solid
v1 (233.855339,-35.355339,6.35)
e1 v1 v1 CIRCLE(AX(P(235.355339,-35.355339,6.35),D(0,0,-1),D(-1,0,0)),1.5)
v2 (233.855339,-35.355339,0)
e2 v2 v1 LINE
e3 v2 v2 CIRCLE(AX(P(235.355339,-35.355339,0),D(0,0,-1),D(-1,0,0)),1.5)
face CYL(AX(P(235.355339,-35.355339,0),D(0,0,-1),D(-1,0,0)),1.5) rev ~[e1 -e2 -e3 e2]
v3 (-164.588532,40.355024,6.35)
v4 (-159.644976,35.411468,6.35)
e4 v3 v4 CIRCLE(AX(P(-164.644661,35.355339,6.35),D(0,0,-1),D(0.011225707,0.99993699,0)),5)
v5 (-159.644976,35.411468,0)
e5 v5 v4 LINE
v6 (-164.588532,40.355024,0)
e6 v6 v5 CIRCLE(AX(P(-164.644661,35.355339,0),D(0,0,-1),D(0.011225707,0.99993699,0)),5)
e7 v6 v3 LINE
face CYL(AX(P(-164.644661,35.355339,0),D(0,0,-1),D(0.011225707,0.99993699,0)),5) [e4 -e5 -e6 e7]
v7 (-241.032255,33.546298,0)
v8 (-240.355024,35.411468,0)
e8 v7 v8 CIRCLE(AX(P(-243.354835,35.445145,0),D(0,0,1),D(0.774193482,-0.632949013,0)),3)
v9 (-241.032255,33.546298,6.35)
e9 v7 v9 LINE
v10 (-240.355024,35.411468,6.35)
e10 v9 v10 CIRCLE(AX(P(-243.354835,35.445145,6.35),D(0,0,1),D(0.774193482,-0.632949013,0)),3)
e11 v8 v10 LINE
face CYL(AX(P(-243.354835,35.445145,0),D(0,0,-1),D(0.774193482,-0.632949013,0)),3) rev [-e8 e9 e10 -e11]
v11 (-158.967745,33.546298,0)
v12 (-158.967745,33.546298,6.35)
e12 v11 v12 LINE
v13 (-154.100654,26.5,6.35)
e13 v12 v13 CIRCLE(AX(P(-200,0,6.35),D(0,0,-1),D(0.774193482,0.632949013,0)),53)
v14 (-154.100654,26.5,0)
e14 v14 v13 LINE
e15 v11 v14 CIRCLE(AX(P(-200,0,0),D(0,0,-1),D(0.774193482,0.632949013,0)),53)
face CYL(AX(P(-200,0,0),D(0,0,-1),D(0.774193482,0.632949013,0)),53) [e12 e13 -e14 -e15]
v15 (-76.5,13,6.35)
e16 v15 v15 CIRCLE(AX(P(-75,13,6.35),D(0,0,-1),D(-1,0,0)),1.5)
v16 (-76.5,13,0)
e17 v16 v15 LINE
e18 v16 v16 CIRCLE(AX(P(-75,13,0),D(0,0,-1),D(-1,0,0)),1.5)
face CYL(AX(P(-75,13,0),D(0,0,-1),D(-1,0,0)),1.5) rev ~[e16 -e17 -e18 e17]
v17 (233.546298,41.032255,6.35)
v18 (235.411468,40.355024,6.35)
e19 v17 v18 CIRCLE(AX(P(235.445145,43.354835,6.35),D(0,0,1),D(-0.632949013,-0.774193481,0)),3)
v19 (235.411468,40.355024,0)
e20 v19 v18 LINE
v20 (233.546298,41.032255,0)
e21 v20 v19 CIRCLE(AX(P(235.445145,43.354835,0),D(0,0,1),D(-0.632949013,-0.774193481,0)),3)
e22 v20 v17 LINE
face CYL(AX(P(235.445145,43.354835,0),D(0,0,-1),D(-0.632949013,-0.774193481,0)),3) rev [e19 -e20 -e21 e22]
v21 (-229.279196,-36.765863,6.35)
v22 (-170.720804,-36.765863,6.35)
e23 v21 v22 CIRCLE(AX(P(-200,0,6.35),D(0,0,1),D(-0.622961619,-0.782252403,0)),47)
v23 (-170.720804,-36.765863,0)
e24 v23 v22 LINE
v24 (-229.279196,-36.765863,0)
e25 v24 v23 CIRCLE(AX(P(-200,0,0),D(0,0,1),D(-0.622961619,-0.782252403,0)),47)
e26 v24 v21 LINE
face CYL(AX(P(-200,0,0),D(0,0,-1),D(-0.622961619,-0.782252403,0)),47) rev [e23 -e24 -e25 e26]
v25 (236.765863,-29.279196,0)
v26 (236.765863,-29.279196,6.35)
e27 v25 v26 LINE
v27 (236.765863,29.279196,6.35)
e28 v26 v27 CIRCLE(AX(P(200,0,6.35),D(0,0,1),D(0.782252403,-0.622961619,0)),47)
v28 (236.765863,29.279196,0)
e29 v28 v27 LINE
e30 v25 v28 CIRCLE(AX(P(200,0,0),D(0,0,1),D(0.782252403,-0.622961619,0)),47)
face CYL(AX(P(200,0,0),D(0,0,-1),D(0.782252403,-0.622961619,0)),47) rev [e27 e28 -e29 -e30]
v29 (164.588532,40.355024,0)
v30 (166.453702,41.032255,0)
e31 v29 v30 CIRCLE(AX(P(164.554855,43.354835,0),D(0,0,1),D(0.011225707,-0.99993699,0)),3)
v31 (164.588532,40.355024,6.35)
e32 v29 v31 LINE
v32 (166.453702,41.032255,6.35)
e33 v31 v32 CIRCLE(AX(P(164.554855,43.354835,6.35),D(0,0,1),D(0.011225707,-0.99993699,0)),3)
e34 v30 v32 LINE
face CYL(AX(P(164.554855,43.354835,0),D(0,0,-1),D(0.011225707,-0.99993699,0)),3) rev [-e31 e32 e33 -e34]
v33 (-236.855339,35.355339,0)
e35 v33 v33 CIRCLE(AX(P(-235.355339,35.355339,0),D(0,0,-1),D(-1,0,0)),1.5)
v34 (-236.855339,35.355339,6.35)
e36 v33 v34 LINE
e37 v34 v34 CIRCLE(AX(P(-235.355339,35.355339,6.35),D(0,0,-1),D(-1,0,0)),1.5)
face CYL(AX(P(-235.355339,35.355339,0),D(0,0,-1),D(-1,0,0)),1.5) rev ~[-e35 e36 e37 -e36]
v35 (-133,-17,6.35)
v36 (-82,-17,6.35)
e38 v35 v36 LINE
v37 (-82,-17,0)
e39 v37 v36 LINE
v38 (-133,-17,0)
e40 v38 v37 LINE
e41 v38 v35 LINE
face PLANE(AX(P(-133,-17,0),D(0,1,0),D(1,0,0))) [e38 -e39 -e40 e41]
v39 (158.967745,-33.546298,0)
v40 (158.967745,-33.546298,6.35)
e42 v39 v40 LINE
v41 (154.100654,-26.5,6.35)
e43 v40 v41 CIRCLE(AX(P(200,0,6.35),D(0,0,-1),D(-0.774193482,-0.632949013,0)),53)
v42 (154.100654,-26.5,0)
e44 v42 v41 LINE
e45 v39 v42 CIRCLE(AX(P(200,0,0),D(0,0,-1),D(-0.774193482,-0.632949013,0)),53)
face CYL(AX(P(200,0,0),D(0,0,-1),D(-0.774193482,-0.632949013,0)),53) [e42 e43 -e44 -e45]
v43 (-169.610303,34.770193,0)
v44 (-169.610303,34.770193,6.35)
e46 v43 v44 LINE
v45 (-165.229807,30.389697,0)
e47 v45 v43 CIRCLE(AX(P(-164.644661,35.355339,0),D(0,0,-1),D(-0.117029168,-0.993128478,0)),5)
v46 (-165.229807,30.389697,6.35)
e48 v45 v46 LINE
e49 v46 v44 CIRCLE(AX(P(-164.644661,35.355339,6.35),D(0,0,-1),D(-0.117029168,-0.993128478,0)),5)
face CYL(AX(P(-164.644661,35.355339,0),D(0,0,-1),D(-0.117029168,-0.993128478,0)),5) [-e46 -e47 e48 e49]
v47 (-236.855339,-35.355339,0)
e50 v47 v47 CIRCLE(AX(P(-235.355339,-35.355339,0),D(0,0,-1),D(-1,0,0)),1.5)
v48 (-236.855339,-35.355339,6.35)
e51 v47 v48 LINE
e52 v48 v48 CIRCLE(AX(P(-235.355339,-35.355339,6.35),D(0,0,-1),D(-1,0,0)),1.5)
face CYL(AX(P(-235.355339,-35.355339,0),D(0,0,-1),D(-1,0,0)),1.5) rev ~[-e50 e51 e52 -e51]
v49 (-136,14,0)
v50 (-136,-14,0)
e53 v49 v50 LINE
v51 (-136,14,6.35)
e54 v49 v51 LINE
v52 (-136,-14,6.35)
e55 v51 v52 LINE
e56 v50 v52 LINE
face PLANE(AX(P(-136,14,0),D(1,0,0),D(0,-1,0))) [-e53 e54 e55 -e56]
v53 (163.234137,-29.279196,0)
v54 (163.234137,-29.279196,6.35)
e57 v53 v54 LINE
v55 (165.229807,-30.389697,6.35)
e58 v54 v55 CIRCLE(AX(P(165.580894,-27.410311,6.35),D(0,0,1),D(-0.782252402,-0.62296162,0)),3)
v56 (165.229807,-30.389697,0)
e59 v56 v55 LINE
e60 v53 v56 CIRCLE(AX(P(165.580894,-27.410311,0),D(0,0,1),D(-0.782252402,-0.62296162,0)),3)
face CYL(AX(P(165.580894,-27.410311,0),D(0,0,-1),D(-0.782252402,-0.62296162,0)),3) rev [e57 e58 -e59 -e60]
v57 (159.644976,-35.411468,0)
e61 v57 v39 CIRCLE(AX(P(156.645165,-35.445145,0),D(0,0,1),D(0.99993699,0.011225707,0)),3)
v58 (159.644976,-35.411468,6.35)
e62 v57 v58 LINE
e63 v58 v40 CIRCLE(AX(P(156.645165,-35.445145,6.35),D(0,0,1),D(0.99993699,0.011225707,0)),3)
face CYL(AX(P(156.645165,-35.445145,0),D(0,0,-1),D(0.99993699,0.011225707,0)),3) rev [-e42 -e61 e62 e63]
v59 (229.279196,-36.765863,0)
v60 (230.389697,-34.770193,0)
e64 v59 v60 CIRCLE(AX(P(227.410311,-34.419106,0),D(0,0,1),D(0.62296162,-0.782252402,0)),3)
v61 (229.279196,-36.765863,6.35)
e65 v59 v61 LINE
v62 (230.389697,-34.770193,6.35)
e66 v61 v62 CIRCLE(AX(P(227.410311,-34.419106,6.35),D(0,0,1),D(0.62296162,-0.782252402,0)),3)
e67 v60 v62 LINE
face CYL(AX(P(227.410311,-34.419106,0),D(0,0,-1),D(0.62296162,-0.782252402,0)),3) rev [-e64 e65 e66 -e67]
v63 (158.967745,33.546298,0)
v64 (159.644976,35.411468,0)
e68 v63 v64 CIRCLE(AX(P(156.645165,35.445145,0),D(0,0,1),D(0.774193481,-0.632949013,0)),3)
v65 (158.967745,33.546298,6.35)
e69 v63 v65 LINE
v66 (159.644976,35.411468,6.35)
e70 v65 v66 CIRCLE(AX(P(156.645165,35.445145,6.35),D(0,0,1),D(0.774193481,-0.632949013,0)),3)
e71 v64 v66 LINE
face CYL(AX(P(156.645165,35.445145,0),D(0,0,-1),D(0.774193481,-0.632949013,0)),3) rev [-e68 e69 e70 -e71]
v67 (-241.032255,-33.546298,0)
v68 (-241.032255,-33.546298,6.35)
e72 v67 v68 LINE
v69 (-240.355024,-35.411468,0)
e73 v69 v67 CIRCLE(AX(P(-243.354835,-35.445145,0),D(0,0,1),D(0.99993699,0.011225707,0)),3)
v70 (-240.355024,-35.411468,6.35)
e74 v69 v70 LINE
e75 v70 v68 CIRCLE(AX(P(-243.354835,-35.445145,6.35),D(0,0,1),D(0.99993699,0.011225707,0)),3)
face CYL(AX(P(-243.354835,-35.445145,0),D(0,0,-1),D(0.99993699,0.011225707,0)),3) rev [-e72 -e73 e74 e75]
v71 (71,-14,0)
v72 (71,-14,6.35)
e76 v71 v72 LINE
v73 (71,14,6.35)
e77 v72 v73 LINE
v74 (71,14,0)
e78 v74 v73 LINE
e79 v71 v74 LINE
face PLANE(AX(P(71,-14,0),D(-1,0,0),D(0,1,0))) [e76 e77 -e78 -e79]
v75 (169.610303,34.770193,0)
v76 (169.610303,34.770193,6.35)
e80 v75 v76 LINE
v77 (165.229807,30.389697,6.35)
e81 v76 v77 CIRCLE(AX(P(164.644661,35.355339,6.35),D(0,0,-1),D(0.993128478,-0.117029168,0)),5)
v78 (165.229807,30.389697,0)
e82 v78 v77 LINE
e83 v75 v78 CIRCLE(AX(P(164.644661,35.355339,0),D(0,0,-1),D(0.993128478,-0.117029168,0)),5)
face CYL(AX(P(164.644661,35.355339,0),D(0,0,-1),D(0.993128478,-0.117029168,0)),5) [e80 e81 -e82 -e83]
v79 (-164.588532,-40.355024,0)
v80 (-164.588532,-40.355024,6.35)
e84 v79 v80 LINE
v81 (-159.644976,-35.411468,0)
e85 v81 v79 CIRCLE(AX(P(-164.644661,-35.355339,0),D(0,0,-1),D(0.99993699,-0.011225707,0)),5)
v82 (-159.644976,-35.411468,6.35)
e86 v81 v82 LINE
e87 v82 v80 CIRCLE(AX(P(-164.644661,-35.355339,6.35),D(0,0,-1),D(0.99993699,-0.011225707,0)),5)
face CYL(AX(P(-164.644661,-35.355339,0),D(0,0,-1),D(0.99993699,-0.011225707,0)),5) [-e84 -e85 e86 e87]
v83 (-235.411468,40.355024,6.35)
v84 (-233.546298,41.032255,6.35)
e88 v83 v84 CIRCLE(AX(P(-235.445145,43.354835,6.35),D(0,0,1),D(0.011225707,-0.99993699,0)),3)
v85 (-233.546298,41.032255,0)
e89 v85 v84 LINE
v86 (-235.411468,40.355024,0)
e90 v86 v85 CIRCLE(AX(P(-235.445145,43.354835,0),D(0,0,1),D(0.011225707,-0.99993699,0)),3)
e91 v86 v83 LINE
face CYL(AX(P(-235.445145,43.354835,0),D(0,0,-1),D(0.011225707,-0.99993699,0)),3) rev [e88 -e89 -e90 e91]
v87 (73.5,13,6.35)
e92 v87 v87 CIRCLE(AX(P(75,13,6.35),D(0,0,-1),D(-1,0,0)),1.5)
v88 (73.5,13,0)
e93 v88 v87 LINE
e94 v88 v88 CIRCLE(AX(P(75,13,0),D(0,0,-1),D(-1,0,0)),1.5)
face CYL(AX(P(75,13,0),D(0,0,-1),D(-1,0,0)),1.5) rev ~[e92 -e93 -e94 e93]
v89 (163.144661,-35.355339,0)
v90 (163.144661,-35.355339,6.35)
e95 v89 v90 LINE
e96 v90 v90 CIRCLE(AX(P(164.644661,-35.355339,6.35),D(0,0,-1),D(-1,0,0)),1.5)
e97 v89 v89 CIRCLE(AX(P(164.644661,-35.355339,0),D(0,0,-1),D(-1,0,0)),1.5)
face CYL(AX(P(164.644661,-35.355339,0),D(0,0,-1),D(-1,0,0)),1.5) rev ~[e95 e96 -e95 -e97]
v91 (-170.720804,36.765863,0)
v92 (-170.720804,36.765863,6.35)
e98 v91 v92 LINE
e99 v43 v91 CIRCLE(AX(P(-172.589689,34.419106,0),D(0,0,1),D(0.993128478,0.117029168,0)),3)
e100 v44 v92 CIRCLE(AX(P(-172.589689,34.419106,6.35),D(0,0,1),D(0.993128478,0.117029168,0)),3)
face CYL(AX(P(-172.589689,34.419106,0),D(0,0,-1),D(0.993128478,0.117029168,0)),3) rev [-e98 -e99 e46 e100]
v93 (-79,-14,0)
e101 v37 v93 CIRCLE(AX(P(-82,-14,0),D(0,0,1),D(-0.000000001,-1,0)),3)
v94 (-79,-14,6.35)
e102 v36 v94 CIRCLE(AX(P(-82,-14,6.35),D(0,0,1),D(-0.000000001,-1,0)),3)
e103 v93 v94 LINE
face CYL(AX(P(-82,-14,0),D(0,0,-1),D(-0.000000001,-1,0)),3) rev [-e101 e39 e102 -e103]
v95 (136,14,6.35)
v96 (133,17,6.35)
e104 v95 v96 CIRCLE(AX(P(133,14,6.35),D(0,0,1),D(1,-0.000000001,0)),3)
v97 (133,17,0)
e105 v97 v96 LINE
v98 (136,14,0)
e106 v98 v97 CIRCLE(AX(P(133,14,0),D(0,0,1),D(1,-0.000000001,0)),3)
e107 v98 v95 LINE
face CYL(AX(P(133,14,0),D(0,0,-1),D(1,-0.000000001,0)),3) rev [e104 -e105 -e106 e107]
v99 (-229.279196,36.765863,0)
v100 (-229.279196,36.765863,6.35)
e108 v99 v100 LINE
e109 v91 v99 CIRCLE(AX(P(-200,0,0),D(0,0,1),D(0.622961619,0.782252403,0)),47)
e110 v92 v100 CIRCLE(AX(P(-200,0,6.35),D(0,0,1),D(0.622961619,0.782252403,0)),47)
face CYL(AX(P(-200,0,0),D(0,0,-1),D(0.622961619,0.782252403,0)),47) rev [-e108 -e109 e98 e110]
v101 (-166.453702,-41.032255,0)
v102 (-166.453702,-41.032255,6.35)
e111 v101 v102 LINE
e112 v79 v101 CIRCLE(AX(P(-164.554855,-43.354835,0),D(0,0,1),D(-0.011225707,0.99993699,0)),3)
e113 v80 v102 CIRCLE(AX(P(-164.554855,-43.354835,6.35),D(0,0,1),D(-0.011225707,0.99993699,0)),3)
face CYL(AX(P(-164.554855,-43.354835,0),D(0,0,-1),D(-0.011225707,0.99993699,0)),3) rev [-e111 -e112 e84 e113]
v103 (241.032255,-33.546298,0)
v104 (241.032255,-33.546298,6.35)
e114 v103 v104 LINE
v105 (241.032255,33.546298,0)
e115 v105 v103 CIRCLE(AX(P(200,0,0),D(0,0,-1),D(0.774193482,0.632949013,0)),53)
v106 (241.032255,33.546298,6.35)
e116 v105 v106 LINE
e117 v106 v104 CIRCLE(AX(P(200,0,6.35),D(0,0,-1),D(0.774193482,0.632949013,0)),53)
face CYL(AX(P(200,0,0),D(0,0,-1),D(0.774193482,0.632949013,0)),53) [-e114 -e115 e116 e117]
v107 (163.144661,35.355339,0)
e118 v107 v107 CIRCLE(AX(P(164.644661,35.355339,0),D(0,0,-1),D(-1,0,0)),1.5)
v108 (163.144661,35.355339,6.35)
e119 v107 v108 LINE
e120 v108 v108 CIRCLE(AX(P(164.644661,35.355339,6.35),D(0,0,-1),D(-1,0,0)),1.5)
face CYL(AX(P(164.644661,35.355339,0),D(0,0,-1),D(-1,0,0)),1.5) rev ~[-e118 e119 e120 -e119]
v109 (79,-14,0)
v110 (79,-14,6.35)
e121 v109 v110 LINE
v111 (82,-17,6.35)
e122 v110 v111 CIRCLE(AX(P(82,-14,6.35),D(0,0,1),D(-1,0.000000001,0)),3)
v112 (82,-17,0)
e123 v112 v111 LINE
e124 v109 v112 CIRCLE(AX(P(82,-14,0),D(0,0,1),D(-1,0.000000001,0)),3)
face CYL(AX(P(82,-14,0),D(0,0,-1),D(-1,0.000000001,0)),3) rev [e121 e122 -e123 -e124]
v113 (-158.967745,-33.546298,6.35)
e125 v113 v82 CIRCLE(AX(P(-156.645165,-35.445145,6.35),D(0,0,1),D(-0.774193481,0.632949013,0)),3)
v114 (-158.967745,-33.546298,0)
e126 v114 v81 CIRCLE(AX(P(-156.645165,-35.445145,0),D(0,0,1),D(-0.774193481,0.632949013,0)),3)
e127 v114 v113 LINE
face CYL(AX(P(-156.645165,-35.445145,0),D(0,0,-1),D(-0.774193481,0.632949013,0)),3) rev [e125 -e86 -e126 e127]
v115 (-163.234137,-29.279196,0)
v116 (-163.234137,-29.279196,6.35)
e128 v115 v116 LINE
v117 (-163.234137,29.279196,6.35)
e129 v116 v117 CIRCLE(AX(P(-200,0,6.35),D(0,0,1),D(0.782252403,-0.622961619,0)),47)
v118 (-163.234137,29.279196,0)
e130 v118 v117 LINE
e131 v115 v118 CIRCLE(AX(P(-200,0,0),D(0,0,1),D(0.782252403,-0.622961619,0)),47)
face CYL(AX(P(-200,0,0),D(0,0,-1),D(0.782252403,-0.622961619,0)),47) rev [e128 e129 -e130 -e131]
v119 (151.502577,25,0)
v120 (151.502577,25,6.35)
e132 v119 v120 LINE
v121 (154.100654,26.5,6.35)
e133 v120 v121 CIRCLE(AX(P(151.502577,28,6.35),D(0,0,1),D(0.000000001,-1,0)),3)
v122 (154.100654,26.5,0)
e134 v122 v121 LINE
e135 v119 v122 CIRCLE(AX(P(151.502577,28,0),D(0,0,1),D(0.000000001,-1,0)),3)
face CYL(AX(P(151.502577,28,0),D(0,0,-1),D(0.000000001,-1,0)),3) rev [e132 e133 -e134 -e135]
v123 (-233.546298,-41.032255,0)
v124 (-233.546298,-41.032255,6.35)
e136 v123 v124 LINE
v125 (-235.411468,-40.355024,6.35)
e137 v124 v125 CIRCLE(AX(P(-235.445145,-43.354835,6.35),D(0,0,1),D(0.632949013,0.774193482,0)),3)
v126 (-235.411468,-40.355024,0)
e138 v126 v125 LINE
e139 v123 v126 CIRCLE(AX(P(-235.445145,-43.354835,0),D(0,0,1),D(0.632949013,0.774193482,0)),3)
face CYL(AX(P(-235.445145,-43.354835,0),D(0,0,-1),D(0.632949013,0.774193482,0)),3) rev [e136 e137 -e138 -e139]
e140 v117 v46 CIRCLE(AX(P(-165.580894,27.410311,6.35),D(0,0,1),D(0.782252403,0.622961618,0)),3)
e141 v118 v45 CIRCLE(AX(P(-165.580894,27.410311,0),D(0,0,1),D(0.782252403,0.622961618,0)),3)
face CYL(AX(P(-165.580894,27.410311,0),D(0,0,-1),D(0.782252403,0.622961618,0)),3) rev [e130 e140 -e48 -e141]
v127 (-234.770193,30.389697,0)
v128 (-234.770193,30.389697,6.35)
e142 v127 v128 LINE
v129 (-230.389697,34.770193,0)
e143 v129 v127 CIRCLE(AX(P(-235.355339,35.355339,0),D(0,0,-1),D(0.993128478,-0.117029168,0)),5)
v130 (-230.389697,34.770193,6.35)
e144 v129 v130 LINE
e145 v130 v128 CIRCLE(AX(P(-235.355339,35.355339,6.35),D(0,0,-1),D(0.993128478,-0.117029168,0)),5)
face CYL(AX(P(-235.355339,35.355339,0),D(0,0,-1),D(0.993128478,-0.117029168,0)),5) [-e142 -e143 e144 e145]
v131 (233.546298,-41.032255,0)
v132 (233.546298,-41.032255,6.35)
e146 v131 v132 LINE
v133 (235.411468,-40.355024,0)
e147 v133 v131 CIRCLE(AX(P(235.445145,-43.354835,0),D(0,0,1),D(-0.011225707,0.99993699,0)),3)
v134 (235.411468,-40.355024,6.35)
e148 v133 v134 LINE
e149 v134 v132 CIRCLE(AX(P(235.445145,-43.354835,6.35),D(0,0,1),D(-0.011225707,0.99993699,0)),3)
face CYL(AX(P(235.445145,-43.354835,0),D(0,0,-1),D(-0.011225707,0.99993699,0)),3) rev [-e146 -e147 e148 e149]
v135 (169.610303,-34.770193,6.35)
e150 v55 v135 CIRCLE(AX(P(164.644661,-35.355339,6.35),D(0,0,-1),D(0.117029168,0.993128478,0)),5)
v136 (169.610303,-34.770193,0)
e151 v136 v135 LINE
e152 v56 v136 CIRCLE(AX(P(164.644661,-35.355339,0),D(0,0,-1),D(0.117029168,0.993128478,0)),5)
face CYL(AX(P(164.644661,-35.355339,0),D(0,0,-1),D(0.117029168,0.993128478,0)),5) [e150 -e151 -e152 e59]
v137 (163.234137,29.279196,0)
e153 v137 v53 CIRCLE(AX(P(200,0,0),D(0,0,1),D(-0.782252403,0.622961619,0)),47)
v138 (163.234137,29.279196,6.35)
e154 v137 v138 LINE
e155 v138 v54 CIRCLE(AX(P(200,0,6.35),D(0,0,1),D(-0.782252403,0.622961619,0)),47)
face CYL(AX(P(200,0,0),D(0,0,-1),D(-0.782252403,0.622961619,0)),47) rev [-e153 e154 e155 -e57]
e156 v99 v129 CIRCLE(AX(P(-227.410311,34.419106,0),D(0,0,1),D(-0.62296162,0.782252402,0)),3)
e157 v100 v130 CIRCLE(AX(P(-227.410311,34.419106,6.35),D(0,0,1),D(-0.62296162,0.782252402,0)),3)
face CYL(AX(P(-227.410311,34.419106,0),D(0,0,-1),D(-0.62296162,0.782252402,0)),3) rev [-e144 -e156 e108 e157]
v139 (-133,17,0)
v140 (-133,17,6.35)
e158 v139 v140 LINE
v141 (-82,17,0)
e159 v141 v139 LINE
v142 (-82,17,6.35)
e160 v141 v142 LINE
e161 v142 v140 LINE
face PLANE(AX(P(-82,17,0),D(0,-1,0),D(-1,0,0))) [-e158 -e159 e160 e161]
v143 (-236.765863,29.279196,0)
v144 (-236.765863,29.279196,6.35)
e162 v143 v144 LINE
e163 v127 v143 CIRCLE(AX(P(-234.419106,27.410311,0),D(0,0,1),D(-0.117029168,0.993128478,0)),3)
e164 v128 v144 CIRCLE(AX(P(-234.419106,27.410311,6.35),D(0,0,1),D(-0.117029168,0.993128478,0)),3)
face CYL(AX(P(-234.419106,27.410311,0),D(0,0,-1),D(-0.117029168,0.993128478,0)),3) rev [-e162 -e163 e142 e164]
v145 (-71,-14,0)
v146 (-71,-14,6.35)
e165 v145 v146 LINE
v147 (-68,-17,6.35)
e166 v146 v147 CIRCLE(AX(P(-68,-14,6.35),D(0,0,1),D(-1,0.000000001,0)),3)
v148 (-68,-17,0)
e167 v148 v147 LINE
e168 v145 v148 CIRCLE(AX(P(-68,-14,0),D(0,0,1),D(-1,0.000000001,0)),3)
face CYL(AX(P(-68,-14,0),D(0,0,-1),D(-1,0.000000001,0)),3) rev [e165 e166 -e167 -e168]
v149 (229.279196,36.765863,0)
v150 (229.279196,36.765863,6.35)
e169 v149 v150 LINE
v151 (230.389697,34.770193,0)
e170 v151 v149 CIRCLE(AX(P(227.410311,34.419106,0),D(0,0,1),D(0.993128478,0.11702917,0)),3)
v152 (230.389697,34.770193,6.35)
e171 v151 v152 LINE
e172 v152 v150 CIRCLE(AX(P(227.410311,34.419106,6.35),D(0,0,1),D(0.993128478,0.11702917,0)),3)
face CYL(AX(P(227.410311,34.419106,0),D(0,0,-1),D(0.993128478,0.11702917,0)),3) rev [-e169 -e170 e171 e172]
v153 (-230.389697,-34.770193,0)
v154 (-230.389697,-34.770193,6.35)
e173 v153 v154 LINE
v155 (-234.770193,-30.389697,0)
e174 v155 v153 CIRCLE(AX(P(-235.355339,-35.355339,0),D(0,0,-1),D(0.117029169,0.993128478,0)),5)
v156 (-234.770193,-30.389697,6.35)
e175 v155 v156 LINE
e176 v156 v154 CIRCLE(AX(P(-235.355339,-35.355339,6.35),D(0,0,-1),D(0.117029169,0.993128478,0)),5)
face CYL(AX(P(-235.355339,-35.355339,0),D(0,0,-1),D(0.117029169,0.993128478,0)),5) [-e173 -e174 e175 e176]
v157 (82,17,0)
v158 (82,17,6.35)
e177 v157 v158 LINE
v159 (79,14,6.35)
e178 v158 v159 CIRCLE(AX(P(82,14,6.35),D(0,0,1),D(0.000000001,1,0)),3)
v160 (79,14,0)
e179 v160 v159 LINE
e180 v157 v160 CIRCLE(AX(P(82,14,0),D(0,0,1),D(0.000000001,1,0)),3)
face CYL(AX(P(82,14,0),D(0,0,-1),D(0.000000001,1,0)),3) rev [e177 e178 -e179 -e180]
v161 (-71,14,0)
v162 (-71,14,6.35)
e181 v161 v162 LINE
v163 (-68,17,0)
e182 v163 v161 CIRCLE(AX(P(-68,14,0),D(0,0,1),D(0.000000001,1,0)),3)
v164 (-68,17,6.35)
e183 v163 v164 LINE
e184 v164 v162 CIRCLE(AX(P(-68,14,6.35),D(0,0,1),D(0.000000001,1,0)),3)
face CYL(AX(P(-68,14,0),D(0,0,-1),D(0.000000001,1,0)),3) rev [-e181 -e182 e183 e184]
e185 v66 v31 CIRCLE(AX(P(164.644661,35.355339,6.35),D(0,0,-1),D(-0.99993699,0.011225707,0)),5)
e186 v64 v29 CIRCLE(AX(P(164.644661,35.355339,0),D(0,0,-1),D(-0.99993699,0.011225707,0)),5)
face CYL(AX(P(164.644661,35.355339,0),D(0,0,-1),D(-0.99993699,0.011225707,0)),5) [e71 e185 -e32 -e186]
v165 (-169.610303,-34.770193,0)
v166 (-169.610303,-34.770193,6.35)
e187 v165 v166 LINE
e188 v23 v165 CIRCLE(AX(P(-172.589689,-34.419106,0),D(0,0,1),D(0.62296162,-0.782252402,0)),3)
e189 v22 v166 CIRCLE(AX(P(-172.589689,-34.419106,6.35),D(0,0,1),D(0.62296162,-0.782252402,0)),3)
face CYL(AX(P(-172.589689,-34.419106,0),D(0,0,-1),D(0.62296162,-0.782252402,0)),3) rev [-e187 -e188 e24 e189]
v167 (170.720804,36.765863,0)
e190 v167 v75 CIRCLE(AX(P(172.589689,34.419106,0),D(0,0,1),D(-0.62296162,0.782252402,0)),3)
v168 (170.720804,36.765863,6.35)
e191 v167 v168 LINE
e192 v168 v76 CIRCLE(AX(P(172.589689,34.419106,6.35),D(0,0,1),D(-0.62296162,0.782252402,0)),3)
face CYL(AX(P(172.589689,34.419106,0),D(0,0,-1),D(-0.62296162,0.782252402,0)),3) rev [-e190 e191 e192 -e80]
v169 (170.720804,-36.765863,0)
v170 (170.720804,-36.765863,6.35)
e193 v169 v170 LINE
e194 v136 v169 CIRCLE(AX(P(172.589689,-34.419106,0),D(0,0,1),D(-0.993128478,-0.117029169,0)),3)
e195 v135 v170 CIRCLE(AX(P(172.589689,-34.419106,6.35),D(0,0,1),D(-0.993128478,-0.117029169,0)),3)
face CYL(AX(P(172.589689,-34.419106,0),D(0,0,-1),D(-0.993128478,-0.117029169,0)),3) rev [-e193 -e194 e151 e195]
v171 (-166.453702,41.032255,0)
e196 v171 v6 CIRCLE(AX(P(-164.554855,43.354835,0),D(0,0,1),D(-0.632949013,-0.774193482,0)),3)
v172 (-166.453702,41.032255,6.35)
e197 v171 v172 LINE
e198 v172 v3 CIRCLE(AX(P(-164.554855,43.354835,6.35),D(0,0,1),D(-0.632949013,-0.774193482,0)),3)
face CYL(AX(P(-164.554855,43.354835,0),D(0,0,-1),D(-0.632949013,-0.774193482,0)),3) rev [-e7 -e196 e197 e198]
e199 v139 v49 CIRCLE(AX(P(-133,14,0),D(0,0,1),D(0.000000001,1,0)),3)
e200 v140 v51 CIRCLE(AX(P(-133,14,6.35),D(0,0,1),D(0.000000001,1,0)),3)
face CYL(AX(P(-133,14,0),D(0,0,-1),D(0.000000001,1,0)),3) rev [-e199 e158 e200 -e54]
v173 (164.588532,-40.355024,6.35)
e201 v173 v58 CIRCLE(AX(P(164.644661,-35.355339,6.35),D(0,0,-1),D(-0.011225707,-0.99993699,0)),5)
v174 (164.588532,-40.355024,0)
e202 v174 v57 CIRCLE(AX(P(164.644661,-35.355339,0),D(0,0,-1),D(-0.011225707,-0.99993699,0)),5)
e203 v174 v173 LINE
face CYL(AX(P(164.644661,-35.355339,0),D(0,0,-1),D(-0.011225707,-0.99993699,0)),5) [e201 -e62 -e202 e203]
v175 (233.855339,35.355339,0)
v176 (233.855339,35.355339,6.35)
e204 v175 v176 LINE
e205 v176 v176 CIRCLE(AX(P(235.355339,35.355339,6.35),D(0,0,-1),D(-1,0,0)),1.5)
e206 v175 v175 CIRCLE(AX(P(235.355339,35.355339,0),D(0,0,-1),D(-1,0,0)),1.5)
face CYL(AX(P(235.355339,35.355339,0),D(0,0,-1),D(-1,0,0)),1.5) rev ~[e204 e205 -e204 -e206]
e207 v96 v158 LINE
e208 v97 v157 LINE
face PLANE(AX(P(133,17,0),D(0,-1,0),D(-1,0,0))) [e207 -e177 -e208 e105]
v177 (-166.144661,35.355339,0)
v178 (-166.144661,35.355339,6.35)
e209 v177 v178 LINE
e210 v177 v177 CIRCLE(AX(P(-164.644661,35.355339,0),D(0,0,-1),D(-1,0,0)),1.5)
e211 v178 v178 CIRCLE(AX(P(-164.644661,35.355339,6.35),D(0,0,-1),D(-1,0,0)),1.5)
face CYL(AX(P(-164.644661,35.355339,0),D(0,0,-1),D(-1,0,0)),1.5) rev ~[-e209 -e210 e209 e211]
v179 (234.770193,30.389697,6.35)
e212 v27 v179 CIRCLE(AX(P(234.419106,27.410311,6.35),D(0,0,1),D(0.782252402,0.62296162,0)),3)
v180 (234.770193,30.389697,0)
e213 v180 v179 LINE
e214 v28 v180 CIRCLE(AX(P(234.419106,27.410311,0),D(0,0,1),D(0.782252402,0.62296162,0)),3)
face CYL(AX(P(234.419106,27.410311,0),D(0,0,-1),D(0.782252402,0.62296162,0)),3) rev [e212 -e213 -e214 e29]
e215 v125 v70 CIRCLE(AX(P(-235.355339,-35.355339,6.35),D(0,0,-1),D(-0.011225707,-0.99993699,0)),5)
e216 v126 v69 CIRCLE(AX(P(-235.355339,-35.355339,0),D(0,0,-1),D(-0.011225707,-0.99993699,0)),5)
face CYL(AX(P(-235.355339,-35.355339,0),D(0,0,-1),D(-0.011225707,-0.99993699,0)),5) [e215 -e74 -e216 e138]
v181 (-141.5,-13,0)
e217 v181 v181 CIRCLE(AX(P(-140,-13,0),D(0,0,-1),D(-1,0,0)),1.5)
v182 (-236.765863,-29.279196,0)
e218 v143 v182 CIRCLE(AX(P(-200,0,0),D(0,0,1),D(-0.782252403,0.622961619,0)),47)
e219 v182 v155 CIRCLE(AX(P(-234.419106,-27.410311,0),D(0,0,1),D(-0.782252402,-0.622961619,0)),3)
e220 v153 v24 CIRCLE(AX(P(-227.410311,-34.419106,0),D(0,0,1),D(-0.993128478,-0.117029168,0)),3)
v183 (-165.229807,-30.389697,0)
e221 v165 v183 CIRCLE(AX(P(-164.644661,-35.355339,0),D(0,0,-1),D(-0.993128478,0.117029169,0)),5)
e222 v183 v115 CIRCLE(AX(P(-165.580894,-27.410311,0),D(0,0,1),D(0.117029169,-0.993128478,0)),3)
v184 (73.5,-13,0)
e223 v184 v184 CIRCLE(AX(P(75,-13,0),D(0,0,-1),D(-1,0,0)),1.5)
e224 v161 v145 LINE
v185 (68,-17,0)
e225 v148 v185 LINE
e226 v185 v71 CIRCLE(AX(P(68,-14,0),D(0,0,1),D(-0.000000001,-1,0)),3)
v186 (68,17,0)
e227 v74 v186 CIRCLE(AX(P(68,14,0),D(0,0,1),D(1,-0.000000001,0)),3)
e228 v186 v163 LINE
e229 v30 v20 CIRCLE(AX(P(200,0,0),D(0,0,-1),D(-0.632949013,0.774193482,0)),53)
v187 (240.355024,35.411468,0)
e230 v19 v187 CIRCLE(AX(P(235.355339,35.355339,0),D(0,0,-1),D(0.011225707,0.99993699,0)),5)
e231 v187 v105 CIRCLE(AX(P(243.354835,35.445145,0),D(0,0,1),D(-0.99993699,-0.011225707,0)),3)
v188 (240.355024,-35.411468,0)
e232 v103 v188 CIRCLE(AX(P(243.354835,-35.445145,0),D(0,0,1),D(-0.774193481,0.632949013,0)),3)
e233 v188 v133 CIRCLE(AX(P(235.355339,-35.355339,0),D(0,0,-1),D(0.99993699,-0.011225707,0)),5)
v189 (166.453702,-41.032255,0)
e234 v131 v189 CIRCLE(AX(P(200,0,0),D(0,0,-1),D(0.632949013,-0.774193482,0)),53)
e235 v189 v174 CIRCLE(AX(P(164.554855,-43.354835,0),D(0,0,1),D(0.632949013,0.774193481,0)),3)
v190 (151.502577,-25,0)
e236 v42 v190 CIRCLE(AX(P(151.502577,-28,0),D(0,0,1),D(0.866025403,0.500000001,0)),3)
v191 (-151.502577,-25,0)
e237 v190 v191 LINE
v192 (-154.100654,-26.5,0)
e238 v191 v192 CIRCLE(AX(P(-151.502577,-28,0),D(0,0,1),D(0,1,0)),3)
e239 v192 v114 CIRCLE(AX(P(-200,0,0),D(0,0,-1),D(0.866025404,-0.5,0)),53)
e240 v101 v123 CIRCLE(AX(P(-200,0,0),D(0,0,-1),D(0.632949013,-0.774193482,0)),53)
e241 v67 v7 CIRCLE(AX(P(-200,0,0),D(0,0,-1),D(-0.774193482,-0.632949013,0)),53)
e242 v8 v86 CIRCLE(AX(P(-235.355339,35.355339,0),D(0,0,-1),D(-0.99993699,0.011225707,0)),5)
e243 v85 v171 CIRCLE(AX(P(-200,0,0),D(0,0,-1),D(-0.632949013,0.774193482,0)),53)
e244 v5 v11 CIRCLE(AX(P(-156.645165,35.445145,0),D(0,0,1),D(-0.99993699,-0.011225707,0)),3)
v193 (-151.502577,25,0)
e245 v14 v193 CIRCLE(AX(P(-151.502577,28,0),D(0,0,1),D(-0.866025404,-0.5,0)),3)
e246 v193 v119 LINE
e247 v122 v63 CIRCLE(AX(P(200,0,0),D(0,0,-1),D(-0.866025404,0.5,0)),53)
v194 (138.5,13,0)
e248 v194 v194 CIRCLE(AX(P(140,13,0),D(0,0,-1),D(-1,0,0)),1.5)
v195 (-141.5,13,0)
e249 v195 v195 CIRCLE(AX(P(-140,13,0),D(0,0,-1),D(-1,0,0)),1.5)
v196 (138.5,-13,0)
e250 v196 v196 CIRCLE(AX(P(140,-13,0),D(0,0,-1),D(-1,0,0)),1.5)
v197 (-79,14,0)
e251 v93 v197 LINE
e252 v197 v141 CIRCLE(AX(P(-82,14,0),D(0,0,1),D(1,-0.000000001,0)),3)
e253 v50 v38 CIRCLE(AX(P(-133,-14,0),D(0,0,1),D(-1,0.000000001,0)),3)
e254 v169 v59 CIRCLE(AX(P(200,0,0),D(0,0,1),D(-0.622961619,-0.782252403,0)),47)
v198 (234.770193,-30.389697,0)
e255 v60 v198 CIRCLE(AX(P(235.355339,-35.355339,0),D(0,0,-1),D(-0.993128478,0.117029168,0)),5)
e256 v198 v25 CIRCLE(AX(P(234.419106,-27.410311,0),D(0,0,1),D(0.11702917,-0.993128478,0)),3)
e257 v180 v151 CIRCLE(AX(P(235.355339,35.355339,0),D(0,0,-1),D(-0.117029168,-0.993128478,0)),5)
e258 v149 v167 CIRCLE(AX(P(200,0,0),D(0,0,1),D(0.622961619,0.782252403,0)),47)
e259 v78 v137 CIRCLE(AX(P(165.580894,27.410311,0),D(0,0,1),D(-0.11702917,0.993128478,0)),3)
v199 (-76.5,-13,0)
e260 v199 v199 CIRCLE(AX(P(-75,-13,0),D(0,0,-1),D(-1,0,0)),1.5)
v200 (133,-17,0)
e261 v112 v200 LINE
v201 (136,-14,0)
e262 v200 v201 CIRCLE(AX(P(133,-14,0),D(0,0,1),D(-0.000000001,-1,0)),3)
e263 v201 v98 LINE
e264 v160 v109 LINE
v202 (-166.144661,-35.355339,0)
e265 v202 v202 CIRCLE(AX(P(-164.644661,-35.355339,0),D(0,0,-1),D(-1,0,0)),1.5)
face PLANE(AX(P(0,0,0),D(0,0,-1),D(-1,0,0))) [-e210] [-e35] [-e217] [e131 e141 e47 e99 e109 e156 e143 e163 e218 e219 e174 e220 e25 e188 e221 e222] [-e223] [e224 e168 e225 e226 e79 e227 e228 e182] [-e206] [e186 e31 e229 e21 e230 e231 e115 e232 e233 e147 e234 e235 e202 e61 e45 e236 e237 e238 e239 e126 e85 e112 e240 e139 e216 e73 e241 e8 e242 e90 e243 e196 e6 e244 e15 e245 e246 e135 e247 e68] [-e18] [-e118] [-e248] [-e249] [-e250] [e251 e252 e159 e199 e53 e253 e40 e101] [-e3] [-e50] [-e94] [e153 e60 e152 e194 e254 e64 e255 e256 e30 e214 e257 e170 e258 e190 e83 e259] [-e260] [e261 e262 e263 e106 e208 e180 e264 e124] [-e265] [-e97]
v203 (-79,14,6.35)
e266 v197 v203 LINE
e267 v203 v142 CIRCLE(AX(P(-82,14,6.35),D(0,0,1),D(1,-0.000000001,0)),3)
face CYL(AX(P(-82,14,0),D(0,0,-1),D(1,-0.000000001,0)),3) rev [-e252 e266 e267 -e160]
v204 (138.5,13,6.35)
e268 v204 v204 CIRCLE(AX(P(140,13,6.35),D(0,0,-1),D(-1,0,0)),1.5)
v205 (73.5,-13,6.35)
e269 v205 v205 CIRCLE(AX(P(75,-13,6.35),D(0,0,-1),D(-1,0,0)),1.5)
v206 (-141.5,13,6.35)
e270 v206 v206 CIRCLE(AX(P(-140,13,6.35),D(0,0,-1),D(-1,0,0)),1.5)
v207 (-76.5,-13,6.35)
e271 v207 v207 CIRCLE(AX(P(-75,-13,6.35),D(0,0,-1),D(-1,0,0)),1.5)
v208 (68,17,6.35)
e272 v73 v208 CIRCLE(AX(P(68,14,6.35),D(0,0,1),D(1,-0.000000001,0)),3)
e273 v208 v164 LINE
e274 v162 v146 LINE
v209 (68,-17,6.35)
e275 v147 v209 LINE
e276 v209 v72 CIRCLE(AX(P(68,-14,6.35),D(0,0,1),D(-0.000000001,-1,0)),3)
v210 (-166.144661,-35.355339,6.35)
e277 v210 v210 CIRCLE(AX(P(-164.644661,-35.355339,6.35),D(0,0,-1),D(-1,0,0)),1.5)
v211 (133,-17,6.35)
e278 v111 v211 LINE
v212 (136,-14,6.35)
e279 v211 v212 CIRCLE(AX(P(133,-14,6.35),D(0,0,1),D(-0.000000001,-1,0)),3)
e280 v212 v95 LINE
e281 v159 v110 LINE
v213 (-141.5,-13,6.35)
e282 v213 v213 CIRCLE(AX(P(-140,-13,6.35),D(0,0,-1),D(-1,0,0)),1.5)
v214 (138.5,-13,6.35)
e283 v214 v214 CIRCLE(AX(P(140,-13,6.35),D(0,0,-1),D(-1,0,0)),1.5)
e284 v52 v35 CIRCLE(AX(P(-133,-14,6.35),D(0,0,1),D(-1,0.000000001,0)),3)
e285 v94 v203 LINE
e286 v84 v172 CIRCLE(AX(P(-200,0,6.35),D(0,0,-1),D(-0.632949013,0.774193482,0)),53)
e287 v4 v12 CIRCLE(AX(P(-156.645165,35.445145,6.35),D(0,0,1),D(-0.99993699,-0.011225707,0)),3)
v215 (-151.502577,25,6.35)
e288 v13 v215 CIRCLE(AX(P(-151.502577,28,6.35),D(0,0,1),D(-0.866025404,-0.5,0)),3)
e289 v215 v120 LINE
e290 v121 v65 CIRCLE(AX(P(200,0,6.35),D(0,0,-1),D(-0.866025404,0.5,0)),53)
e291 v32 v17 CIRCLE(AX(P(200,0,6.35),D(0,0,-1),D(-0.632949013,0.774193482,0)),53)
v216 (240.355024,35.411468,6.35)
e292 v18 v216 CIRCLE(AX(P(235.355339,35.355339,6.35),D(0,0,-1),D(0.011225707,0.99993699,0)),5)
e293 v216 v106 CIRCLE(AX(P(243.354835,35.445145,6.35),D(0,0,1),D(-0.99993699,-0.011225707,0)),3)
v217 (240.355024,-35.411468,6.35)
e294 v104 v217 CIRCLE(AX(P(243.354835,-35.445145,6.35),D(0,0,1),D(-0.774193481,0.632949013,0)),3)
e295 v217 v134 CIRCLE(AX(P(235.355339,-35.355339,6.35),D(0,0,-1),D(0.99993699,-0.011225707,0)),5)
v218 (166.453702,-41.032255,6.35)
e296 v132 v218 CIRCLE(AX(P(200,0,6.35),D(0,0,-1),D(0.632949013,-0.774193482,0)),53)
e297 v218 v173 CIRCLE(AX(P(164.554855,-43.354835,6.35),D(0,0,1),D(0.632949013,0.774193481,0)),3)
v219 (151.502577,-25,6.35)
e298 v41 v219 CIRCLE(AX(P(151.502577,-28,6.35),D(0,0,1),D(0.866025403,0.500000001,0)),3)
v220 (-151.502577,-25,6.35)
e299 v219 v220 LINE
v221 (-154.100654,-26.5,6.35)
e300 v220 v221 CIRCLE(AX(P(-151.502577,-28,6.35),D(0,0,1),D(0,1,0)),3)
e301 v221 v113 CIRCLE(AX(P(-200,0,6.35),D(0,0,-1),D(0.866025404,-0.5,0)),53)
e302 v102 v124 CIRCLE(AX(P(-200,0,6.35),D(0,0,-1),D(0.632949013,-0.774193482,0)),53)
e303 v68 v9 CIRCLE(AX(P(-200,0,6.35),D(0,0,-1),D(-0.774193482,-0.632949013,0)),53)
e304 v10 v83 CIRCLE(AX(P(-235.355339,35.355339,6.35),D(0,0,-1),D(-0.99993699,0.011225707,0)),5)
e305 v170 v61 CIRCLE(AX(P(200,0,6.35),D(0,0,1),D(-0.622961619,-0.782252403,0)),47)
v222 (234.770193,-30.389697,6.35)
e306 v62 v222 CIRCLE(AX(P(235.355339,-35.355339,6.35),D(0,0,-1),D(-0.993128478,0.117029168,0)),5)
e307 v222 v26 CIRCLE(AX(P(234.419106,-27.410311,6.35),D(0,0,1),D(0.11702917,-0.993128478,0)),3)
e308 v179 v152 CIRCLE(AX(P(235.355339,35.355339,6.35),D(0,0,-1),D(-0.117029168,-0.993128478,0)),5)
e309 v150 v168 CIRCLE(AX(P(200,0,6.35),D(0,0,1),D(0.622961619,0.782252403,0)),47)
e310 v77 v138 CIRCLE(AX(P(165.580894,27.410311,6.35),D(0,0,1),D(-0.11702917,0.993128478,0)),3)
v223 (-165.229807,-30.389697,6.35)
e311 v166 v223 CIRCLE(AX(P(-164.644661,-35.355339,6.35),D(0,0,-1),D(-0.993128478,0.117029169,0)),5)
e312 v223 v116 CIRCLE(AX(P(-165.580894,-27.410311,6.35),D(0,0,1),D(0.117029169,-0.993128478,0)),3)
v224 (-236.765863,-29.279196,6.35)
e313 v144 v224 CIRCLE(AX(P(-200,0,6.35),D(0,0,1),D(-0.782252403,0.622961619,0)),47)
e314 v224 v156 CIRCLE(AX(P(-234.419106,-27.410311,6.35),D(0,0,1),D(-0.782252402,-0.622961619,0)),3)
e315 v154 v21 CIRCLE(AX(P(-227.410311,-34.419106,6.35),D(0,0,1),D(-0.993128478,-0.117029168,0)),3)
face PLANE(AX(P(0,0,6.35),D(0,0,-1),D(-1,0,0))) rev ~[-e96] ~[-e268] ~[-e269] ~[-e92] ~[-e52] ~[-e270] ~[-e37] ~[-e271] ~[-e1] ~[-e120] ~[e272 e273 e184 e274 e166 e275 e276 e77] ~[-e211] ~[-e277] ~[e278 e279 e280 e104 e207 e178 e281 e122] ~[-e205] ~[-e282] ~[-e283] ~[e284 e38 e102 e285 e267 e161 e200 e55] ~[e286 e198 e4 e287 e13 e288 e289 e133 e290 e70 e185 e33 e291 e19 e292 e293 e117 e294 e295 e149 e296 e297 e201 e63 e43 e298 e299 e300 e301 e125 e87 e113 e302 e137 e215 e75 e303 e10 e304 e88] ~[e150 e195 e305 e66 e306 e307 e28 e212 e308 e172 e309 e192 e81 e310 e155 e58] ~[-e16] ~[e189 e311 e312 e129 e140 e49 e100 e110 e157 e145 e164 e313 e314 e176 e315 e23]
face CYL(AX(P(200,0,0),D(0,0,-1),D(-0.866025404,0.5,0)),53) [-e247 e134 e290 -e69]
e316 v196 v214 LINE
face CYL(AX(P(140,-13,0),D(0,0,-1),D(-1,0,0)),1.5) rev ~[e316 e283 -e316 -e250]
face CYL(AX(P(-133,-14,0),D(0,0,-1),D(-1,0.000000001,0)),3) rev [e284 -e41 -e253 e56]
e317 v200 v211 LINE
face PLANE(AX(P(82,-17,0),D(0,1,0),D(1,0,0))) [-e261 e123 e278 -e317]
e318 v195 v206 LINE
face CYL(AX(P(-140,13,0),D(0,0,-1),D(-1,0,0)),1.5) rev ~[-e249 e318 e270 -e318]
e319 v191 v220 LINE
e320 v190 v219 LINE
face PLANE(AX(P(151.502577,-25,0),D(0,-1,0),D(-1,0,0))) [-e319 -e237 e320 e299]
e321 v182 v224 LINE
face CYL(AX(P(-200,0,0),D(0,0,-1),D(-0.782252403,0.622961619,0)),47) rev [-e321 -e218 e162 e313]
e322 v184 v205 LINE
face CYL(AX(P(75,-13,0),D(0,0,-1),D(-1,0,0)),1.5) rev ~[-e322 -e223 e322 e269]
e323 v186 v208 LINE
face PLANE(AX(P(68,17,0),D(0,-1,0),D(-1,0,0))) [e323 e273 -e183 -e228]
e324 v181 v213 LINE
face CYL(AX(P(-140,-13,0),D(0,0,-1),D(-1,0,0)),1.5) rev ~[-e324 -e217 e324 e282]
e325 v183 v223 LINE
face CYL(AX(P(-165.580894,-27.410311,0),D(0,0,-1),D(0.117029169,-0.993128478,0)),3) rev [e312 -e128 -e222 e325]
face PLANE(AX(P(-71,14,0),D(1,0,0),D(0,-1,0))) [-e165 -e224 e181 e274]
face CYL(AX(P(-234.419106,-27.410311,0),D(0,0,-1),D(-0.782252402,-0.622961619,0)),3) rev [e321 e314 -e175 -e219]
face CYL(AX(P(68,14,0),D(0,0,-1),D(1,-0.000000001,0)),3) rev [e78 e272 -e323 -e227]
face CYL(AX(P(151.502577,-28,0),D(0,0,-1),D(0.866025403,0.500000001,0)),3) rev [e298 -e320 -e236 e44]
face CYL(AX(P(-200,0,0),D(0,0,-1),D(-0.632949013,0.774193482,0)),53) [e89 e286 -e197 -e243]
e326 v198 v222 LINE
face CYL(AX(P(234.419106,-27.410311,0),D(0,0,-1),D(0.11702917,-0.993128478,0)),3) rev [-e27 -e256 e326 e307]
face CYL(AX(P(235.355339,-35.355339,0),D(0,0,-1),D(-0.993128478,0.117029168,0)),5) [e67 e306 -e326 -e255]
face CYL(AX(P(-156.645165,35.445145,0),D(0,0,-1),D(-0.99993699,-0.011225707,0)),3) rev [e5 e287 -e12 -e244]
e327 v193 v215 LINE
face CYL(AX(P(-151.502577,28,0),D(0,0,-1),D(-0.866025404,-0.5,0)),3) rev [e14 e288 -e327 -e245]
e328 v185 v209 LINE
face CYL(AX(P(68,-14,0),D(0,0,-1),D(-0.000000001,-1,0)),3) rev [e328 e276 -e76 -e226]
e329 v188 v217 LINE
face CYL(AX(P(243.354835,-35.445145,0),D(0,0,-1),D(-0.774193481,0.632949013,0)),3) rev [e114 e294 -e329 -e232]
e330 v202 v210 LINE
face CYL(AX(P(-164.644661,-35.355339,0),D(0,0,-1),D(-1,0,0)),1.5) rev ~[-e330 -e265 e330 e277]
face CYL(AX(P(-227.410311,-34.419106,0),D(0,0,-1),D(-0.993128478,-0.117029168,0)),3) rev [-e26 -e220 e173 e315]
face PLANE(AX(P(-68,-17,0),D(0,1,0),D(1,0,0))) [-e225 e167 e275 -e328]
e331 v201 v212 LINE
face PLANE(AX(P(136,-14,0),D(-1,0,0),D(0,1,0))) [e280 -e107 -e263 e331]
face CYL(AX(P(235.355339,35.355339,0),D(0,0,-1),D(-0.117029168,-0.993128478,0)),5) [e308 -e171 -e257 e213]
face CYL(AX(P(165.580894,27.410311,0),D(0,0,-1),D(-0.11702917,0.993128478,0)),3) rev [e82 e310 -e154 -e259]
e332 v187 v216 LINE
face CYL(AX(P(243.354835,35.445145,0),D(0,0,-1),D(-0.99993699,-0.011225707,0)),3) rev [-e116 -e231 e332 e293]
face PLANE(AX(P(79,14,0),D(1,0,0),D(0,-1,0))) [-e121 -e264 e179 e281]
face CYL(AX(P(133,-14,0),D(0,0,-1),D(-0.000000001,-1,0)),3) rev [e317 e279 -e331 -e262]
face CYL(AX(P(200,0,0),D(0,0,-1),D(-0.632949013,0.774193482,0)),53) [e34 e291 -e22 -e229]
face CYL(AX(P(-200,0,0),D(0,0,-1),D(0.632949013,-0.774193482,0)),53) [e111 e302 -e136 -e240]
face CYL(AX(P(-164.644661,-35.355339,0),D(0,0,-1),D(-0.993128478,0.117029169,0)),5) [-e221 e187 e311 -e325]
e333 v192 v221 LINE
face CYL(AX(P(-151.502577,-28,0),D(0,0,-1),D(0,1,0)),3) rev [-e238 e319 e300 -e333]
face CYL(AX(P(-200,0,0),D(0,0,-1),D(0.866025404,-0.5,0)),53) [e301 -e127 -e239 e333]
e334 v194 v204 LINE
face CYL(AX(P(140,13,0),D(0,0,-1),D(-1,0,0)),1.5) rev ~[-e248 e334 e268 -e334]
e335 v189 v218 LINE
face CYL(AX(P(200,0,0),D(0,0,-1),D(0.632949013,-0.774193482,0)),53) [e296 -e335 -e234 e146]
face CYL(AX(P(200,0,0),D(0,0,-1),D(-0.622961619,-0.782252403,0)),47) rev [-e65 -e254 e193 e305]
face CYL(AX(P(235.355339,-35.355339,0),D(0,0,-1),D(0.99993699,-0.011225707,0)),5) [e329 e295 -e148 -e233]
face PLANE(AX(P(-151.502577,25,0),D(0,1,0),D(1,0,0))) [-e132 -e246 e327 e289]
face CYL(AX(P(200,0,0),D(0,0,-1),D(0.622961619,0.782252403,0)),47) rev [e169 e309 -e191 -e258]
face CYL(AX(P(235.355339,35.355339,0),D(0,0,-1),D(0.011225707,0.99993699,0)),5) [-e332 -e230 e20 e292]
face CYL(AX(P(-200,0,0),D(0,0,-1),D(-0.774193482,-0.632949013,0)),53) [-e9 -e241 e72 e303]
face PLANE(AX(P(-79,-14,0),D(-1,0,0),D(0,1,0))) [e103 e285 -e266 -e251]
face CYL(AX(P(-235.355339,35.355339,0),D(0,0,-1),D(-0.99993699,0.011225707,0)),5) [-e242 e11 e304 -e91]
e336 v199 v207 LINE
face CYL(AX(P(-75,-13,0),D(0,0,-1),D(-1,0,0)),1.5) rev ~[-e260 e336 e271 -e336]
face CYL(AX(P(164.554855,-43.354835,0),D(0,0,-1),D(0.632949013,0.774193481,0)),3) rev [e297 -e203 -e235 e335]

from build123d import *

# Parameters (mm, degrees)
SKETCH1_R           = 1.5
BOSS_EXTRUDE1_DEPTH = 6.35


with BuildPart() as part:
    # Sketch1 → Boss-Extrude1 (new body)
    with BuildSketch(Plane(origin=(0, 0, 0), x_dir=(-1, 0, 0), z_dir=(0, 0, -1))):
        with BuildLine():
            Line((151.502577388, 25), (-151.502577388, 25))
            ThreePointArc((-151.502577388, 25), (-153.002577388, 25.401923789), (-154.1006536, 26.5))
            ThreePointArc((-154.1006536, 26.5), (-156.391647728, 30.121613703), (-158.967745468, 33.54629768))
            ThreePointArc((-158.967745468, 33.54629768), (-159.465036881, 34.421268405), (-159.644975992, 35.411467596))
            ThreePointArc((-159.644975992, 35.411467596), (-161.109127035, 38.890872965), (-164.588532404, 40.355024008))
            ThreePointArc((-164.588532404, 40.355024008), (-165.578731594, 40.534963119), (-166.45370232, 41.032254532))
            ThreePointArc((-166.45370232, 41.032254532), (-200, 53), (-233.54629768, 41.032254532))
            ThreePointArc((-233.54629768, 41.032254532), (-234.421268405, 40.534963119), (-235.411467596, 40.355024008))
            ThreePointArc((-235.411467596, 40.355024008), (-238.890872965, 38.890872965), (-240.355024008, 35.411467596))
            ThreePointArc((-240.355024008, 35.411467596), (-240.534963119, 34.421268406), (-241.032254532, 33.54629768))
            ThreePointArc((-241.032254532, 33.54629768), (-253, 0), (-241.032254532, -33.54629768))
            ThreePointArc((-241.032254532, -33.54629768), (-240.534963119, -34.421268405), (-240.355024008, -35.411467596))
            ThreePointArc((-240.355024008, -35.411467596), (-238.890872965, -38.890872965), (-235.411467596, -40.355024008))
            ThreePointArc((-235.411467596, -40.355024008), (-234.421268406, -40.534963119), (-233.54629768, -41.032254532))
            ThreePointArc((-233.54629768, -41.032254532), (-200, -53), (-166.45370232, -41.032254532))
            ThreePointArc((-166.45370232, -41.032254532), (-165.578731595, -40.534963119), (-164.588532404, -40.355024008))
            ThreePointArc((-164.588532404, -40.355024008), (-161.109127035, -38.890872965), (-159.644975992, -35.411467596))
            ThreePointArc((-159.644975992, -35.411467596), (-159.465036881, -34.421268405), (-158.967745468, -33.54629768))
            ThreePointArc((-158.967745468, -33.54629768), (-156.391647728, -30.121613703), (-154.1006536, -26.5))
            ThreePointArc((-154.1006536, -26.5), (-153.002577388, -25.401923789), (-151.502577388, -25))
            Line((-151.502577388, -25), (151.502577388, -25))
            ThreePointArc((151.502577388, -25), (153.002577388, -25.401923789), (154.100653599, -26.5))
            ThreePointArc((154.100653599, -26.5), (156.391647728, -30.121613703), (158.967745468, -33.54629768))
            ThreePointArc((158.967745468, -33.54629768), (159.465036881, -34.421268405), (159.644975992, -35.411467596))
            ThreePointArc((159.644975992, -35.411467596), (161.109127035, -38.890872965), (164.588532404, -40.355024008))
            ThreePointArc((164.588532404, -40.355024008), (165.578731594, -40.534963119), (166.45370232, -41.032254532))
            ThreePointArc((166.45370232, -41.032254532), (200, -53), (233.546297679, -41.032254532))
            ThreePointArc((233.546297679, -41.032254532), (234.421268405, -40.534963119), (235.411467596, -40.355024008))
            ThreePointArc((235.411467596, -40.355024008), (238.890872965, -38.890872965), (240.355024008, -35.411467596))
            ThreePointArc((240.355024008, -35.411467596), (240.534963119, -34.421268405), (241.032254532, -33.546297679))
            ThreePointArc((241.032254532, -33.546297679), (253, 0), (241.032254532, 33.54629768))
            ThreePointArc((241.032254532, 33.54629768), (240.534963119, 34.421268406), (240.355024008, 35.411467596))
            ThreePointArc((240.355024008, 35.411467596), (238.890872965, 38.890872965), (235.411467596, 40.355024008))
            ThreePointArc((235.411467596, 40.355024008), (234.421268405, 40.534963119), (233.546297679, 41.032254532))
            ThreePointArc((233.546297679, 41.032254532), (200, 53), (166.45370232, 41.032254532))
            ThreePointArc((166.45370232, 41.032254532), (165.578731594, 40.534963119), (164.588532404, 40.355024008))
            ThreePointArc((164.588532404, 40.355024008), (161.109127035, 38.890872965), (159.644975992, 35.411467596))
            ThreePointArc((159.644975992, 35.411467596), (159.465036881, 34.421268406), (158.967745468, 33.54629768))
            ThreePointArc((158.967745468, 33.54629768), (156.391647727, 30.121613703), (154.100653599, 26.5))
            ThreePointArc((154.100653599, 26.5), (153.002577388, 25.401923789), (151.502577388, 25))
        make_face()
        with Locations((-235.355339059, -35.355339059)):
            Circle(SKETCH1_R, mode=Mode.SUBTRACT)
        with Locations((-235.355339059, 35.355339059)):
            Circle(SKETCH1_R, mode=Mode.SUBTRACT)
        with Locations((-164.644660941, -35.355339059)):
            Circle(SKETCH1_R, mode=Mode.SUBTRACT)
        with Locations((-164.644660941, 35.355339059)):
            Circle(SKETCH1_R, mode=Mode.SUBTRACT)
        with Locations((235.355339059, -35.355339059)):
            Circle(SKETCH1_R, mode=Mode.SUBTRACT)
        with Locations((235.355339059, 35.355339059)):
            Circle(SKETCH1_R, mode=Mode.SUBTRACT)
        with Locations((164.644660941, -35.355339059)):
            Circle(SKETCH1_R, mode=Mode.SUBTRACT)
        with Locations((164.644660941, 35.355339059)):
            Circle(SKETCH1_R, mode=Mode.SUBTRACT)
        with Locations((75, 13)):
            Circle(SKETCH1_R, mode=Mode.SUBTRACT)
        with Locations((75, -13)):
            Circle(SKETCH1_R, mode=Mode.SUBTRACT)
        with Locations((-75, -13)):
            Circle(SKETCH1_R, mode=Mode.SUBTRACT)
        with Locations((-75, 13)):
            Circle(SKETCH1_R, mode=Mode.SUBTRACT)
        with Locations((140, 13)):
            Circle(SKETCH1_R, mode=Mode.SUBTRACT)
        with Locations((140, -13)):
            Circle(SKETCH1_R, mode=Mode.SUBTRACT)
        with Locations((-140, -13)):
            Circle(SKETCH1_R, mode=Mode.SUBTRACT)
        with Locations((-140, 13)):
            Circle(SKETCH1_R, mode=Mode.SUBTRACT)
        with BuildLine():
            Line((136, 14), (136, -14))
            ThreePointArc((136, -14), (135.121320344, -16.121320344), (133, -17))
            Line((133, -17), (82, -17))
            ThreePointArc((82, -17), (79.878679656, -16.121320344), (79, -14))
            Line((79, -14), (79, 14))
            ThreePointArc((79, 14), (79.878679656, 16.121320344), (82, 17))
            Line((82, 17), (133, 17))
            ThreePointArc((133, 17), (135.121320344, 16.121320344), (136, 14))
        make_face(mode=Mode.SUBTRACT)
        with BuildLine():
            Line((71, 14), (71, -14))
            ThreePointArc((71, -14), (70.121320344, -16.121320344), (68, -17))
            Line((68, -17), (-68, -17))
            ThreePointArc((-68, -17), (-70.121320344, -16.121320344), (-71, -14))
            Line((-71, -14), (-71, 14))
            ThreePointArc((-71, 14), (-70.121320344, 16.121320344), (-68, 17))
            Line((-68, 17), (68, 17))
            ThreePointArc((68, 17), (70.121320344, 16.121320344), (71, 14))
        make_face(mode=Mode.SUBTRACT)
        with BuildLine():
            Line((-136, -14), (-136, 14))
            ThreePointArc((-136, 14), (-135.121320344, 16.121320344), (-133, 17))
            Line((-133, 17), (-82, 17))
            ThreePointArc((-82, 17), (-79.878679656, 16.121320344), (-79, 14))
            Line((-79, 14), (-79, -14))
            ThreePointArc((-79, -14), (-79.878679656, -16.121320344), (-82, -17))
            Line((-82, -17), (-133, -17))
            ThreePointArc((-133, -17), (-135.121320344, -16.121320344), (-136, -14))
        make_face(mode=Mode.SUBTRACT)
        with BuildLine():
            ThreePointArc((-163.234137081, -29.279196093), (-164.12216388, -30.031781356), (-165.229806783, -30.389696669))
            ThreePointArc((-165.229806783, -30.389696669), (-168.180194847, -31.819805153), (-169.610303331, -34.770193217))
            ThreePointArc((-169.610303331, -34.770193217), (-169.968218644, -35.87783612), (-170.720803907, -36.765862919))
            ThreePointArc((-170.720803907, -36.765862919), (-200, -47), (-229.279196093, -36.765862918))
            ThreePointArc((-229.279196093, -36.765862918), (-230.031781356, -35.87783612), (-230.38969667, -34.770193216))
            ThreePointArc((-230.38969667, -34.770193216), (-231.819805153, -31.819805153), (-234.770193217, -30.38969667))
            ThreePointArc((-234.770193217, -30.38969667), (-235.87783612, -30.031781356), (-236.765862918, -29.279196093))
            ThreePointArc((-236.765862918, -29.279196093), (-247, 0), (-236.765862918, 29.279196093))
            ThreePointArc((-236.765862918, 29.279196093), (-235.87783612, 30.031781356), (-234.770193216, 30.38969667))
            ThreePointArc((-234.770193216, 30.38969667), (-231.819805153, 31.819805153), (-230.38969667, 34.770193217))
            ThreePointArc((-230.38969667, 34.770193217), (-230.031781356, 35.87783612), (-229.279196093, 36.765862918))
            ThreePointArc((-229.279196093, 36.765862918), (-200, 47), (-170.720803907, 36.765862918))
            ThreePointArc((-170.720803907, 36.765862918), (-169.968218644, 35.87783612), (-169.61030333, 34.770193216))
            ThreePointArc((-169.61030333, 34.770193216), (-168.180194847, 31.819805153), (-165.229806783, 30.38969667))
            ThreePointArc((-165.229806783, 30.38969667), (-164.12216388, 30.031781356), (-163.234137082, 29.279196093))
            ThreePointArc((-163.234137082, 29.279196093), (-153, 0), (-163.234137081, -29.279196093))
        make_face(mode=Mode.SUBTRACT)
        with BuildLine():
            ThreePointArc((165.229806783, -30.389696669), (164.12216388, -30.031781356), (163.234137081, -29.279196093))
            ThreePointArc((163.234137081, -29.279196093), (153, 0), (163.234137082, 29.279196093))
            ThreePointArc((163.234137082, 29.279196093), (164.12216388, 30.031781357), (165.229806783, 30.38969667))
            ThreePointArc((165.229806783, 30.38969667), (168.180194847, 31.819805154), (169.61030333, 34.770193217))
            ThreePointArc((169.61030333, 34.770193217), (169.968218643, 35.87783612), (170.720803907, 36.765862918))
            ThreePointArc((170.720803907, 36.765862918), (200, 47), (229.279196093, 36.765862919))
            ThreePointArc((229.279196093, 36.765862919), (230.031781356, 35.87783612), (230.38969667, 34.770193217))
            ThreePointArc((230.38969667, 34.770193217), (231.819805153, 31.819805154), (234.770193216, 30.38969667))
            ThreePointArc((234.770193216, 30.38969667), (235.87783612, 30.031781357), (236.765862918, 29.279196093))
            ThreePointArc((236.765862918, 29.279196093), (247, 0), (236.765862918, -29.279196093))
            ThreePointArc((236.765862918, -29.279196093), (235.87783612, -30.031781356), (234.770193216, -30.389696669))
            ThreePointArc((234.770193216, -30.389696669), (231.819805153, -31.819805153), (230.389696669, -34.770193216))
            ThreePointArc((230.389696669, -34.770193216), (230.031781356, -35.87783612), (229.279196093, -36.765862918))
            ThreePointArc((229.279196093, -36.765862918), (200, -47), (170.720803907, -36.765862919))
            ThreePointArc((170.720803907, -36.765862919), (169.968218644, -35.87783612), (169.610303331, -34.770193216))
            ThreePointArc((169.610303331, -34.770193216), (168.180194847, -31.819805153), (165.229806783, -30.389696669))
        make_face(mode=Mode.SUBTRACT)
    extrude(amount=-BOSS_EXTRUDE1_DEPTH)


solid = part.part
